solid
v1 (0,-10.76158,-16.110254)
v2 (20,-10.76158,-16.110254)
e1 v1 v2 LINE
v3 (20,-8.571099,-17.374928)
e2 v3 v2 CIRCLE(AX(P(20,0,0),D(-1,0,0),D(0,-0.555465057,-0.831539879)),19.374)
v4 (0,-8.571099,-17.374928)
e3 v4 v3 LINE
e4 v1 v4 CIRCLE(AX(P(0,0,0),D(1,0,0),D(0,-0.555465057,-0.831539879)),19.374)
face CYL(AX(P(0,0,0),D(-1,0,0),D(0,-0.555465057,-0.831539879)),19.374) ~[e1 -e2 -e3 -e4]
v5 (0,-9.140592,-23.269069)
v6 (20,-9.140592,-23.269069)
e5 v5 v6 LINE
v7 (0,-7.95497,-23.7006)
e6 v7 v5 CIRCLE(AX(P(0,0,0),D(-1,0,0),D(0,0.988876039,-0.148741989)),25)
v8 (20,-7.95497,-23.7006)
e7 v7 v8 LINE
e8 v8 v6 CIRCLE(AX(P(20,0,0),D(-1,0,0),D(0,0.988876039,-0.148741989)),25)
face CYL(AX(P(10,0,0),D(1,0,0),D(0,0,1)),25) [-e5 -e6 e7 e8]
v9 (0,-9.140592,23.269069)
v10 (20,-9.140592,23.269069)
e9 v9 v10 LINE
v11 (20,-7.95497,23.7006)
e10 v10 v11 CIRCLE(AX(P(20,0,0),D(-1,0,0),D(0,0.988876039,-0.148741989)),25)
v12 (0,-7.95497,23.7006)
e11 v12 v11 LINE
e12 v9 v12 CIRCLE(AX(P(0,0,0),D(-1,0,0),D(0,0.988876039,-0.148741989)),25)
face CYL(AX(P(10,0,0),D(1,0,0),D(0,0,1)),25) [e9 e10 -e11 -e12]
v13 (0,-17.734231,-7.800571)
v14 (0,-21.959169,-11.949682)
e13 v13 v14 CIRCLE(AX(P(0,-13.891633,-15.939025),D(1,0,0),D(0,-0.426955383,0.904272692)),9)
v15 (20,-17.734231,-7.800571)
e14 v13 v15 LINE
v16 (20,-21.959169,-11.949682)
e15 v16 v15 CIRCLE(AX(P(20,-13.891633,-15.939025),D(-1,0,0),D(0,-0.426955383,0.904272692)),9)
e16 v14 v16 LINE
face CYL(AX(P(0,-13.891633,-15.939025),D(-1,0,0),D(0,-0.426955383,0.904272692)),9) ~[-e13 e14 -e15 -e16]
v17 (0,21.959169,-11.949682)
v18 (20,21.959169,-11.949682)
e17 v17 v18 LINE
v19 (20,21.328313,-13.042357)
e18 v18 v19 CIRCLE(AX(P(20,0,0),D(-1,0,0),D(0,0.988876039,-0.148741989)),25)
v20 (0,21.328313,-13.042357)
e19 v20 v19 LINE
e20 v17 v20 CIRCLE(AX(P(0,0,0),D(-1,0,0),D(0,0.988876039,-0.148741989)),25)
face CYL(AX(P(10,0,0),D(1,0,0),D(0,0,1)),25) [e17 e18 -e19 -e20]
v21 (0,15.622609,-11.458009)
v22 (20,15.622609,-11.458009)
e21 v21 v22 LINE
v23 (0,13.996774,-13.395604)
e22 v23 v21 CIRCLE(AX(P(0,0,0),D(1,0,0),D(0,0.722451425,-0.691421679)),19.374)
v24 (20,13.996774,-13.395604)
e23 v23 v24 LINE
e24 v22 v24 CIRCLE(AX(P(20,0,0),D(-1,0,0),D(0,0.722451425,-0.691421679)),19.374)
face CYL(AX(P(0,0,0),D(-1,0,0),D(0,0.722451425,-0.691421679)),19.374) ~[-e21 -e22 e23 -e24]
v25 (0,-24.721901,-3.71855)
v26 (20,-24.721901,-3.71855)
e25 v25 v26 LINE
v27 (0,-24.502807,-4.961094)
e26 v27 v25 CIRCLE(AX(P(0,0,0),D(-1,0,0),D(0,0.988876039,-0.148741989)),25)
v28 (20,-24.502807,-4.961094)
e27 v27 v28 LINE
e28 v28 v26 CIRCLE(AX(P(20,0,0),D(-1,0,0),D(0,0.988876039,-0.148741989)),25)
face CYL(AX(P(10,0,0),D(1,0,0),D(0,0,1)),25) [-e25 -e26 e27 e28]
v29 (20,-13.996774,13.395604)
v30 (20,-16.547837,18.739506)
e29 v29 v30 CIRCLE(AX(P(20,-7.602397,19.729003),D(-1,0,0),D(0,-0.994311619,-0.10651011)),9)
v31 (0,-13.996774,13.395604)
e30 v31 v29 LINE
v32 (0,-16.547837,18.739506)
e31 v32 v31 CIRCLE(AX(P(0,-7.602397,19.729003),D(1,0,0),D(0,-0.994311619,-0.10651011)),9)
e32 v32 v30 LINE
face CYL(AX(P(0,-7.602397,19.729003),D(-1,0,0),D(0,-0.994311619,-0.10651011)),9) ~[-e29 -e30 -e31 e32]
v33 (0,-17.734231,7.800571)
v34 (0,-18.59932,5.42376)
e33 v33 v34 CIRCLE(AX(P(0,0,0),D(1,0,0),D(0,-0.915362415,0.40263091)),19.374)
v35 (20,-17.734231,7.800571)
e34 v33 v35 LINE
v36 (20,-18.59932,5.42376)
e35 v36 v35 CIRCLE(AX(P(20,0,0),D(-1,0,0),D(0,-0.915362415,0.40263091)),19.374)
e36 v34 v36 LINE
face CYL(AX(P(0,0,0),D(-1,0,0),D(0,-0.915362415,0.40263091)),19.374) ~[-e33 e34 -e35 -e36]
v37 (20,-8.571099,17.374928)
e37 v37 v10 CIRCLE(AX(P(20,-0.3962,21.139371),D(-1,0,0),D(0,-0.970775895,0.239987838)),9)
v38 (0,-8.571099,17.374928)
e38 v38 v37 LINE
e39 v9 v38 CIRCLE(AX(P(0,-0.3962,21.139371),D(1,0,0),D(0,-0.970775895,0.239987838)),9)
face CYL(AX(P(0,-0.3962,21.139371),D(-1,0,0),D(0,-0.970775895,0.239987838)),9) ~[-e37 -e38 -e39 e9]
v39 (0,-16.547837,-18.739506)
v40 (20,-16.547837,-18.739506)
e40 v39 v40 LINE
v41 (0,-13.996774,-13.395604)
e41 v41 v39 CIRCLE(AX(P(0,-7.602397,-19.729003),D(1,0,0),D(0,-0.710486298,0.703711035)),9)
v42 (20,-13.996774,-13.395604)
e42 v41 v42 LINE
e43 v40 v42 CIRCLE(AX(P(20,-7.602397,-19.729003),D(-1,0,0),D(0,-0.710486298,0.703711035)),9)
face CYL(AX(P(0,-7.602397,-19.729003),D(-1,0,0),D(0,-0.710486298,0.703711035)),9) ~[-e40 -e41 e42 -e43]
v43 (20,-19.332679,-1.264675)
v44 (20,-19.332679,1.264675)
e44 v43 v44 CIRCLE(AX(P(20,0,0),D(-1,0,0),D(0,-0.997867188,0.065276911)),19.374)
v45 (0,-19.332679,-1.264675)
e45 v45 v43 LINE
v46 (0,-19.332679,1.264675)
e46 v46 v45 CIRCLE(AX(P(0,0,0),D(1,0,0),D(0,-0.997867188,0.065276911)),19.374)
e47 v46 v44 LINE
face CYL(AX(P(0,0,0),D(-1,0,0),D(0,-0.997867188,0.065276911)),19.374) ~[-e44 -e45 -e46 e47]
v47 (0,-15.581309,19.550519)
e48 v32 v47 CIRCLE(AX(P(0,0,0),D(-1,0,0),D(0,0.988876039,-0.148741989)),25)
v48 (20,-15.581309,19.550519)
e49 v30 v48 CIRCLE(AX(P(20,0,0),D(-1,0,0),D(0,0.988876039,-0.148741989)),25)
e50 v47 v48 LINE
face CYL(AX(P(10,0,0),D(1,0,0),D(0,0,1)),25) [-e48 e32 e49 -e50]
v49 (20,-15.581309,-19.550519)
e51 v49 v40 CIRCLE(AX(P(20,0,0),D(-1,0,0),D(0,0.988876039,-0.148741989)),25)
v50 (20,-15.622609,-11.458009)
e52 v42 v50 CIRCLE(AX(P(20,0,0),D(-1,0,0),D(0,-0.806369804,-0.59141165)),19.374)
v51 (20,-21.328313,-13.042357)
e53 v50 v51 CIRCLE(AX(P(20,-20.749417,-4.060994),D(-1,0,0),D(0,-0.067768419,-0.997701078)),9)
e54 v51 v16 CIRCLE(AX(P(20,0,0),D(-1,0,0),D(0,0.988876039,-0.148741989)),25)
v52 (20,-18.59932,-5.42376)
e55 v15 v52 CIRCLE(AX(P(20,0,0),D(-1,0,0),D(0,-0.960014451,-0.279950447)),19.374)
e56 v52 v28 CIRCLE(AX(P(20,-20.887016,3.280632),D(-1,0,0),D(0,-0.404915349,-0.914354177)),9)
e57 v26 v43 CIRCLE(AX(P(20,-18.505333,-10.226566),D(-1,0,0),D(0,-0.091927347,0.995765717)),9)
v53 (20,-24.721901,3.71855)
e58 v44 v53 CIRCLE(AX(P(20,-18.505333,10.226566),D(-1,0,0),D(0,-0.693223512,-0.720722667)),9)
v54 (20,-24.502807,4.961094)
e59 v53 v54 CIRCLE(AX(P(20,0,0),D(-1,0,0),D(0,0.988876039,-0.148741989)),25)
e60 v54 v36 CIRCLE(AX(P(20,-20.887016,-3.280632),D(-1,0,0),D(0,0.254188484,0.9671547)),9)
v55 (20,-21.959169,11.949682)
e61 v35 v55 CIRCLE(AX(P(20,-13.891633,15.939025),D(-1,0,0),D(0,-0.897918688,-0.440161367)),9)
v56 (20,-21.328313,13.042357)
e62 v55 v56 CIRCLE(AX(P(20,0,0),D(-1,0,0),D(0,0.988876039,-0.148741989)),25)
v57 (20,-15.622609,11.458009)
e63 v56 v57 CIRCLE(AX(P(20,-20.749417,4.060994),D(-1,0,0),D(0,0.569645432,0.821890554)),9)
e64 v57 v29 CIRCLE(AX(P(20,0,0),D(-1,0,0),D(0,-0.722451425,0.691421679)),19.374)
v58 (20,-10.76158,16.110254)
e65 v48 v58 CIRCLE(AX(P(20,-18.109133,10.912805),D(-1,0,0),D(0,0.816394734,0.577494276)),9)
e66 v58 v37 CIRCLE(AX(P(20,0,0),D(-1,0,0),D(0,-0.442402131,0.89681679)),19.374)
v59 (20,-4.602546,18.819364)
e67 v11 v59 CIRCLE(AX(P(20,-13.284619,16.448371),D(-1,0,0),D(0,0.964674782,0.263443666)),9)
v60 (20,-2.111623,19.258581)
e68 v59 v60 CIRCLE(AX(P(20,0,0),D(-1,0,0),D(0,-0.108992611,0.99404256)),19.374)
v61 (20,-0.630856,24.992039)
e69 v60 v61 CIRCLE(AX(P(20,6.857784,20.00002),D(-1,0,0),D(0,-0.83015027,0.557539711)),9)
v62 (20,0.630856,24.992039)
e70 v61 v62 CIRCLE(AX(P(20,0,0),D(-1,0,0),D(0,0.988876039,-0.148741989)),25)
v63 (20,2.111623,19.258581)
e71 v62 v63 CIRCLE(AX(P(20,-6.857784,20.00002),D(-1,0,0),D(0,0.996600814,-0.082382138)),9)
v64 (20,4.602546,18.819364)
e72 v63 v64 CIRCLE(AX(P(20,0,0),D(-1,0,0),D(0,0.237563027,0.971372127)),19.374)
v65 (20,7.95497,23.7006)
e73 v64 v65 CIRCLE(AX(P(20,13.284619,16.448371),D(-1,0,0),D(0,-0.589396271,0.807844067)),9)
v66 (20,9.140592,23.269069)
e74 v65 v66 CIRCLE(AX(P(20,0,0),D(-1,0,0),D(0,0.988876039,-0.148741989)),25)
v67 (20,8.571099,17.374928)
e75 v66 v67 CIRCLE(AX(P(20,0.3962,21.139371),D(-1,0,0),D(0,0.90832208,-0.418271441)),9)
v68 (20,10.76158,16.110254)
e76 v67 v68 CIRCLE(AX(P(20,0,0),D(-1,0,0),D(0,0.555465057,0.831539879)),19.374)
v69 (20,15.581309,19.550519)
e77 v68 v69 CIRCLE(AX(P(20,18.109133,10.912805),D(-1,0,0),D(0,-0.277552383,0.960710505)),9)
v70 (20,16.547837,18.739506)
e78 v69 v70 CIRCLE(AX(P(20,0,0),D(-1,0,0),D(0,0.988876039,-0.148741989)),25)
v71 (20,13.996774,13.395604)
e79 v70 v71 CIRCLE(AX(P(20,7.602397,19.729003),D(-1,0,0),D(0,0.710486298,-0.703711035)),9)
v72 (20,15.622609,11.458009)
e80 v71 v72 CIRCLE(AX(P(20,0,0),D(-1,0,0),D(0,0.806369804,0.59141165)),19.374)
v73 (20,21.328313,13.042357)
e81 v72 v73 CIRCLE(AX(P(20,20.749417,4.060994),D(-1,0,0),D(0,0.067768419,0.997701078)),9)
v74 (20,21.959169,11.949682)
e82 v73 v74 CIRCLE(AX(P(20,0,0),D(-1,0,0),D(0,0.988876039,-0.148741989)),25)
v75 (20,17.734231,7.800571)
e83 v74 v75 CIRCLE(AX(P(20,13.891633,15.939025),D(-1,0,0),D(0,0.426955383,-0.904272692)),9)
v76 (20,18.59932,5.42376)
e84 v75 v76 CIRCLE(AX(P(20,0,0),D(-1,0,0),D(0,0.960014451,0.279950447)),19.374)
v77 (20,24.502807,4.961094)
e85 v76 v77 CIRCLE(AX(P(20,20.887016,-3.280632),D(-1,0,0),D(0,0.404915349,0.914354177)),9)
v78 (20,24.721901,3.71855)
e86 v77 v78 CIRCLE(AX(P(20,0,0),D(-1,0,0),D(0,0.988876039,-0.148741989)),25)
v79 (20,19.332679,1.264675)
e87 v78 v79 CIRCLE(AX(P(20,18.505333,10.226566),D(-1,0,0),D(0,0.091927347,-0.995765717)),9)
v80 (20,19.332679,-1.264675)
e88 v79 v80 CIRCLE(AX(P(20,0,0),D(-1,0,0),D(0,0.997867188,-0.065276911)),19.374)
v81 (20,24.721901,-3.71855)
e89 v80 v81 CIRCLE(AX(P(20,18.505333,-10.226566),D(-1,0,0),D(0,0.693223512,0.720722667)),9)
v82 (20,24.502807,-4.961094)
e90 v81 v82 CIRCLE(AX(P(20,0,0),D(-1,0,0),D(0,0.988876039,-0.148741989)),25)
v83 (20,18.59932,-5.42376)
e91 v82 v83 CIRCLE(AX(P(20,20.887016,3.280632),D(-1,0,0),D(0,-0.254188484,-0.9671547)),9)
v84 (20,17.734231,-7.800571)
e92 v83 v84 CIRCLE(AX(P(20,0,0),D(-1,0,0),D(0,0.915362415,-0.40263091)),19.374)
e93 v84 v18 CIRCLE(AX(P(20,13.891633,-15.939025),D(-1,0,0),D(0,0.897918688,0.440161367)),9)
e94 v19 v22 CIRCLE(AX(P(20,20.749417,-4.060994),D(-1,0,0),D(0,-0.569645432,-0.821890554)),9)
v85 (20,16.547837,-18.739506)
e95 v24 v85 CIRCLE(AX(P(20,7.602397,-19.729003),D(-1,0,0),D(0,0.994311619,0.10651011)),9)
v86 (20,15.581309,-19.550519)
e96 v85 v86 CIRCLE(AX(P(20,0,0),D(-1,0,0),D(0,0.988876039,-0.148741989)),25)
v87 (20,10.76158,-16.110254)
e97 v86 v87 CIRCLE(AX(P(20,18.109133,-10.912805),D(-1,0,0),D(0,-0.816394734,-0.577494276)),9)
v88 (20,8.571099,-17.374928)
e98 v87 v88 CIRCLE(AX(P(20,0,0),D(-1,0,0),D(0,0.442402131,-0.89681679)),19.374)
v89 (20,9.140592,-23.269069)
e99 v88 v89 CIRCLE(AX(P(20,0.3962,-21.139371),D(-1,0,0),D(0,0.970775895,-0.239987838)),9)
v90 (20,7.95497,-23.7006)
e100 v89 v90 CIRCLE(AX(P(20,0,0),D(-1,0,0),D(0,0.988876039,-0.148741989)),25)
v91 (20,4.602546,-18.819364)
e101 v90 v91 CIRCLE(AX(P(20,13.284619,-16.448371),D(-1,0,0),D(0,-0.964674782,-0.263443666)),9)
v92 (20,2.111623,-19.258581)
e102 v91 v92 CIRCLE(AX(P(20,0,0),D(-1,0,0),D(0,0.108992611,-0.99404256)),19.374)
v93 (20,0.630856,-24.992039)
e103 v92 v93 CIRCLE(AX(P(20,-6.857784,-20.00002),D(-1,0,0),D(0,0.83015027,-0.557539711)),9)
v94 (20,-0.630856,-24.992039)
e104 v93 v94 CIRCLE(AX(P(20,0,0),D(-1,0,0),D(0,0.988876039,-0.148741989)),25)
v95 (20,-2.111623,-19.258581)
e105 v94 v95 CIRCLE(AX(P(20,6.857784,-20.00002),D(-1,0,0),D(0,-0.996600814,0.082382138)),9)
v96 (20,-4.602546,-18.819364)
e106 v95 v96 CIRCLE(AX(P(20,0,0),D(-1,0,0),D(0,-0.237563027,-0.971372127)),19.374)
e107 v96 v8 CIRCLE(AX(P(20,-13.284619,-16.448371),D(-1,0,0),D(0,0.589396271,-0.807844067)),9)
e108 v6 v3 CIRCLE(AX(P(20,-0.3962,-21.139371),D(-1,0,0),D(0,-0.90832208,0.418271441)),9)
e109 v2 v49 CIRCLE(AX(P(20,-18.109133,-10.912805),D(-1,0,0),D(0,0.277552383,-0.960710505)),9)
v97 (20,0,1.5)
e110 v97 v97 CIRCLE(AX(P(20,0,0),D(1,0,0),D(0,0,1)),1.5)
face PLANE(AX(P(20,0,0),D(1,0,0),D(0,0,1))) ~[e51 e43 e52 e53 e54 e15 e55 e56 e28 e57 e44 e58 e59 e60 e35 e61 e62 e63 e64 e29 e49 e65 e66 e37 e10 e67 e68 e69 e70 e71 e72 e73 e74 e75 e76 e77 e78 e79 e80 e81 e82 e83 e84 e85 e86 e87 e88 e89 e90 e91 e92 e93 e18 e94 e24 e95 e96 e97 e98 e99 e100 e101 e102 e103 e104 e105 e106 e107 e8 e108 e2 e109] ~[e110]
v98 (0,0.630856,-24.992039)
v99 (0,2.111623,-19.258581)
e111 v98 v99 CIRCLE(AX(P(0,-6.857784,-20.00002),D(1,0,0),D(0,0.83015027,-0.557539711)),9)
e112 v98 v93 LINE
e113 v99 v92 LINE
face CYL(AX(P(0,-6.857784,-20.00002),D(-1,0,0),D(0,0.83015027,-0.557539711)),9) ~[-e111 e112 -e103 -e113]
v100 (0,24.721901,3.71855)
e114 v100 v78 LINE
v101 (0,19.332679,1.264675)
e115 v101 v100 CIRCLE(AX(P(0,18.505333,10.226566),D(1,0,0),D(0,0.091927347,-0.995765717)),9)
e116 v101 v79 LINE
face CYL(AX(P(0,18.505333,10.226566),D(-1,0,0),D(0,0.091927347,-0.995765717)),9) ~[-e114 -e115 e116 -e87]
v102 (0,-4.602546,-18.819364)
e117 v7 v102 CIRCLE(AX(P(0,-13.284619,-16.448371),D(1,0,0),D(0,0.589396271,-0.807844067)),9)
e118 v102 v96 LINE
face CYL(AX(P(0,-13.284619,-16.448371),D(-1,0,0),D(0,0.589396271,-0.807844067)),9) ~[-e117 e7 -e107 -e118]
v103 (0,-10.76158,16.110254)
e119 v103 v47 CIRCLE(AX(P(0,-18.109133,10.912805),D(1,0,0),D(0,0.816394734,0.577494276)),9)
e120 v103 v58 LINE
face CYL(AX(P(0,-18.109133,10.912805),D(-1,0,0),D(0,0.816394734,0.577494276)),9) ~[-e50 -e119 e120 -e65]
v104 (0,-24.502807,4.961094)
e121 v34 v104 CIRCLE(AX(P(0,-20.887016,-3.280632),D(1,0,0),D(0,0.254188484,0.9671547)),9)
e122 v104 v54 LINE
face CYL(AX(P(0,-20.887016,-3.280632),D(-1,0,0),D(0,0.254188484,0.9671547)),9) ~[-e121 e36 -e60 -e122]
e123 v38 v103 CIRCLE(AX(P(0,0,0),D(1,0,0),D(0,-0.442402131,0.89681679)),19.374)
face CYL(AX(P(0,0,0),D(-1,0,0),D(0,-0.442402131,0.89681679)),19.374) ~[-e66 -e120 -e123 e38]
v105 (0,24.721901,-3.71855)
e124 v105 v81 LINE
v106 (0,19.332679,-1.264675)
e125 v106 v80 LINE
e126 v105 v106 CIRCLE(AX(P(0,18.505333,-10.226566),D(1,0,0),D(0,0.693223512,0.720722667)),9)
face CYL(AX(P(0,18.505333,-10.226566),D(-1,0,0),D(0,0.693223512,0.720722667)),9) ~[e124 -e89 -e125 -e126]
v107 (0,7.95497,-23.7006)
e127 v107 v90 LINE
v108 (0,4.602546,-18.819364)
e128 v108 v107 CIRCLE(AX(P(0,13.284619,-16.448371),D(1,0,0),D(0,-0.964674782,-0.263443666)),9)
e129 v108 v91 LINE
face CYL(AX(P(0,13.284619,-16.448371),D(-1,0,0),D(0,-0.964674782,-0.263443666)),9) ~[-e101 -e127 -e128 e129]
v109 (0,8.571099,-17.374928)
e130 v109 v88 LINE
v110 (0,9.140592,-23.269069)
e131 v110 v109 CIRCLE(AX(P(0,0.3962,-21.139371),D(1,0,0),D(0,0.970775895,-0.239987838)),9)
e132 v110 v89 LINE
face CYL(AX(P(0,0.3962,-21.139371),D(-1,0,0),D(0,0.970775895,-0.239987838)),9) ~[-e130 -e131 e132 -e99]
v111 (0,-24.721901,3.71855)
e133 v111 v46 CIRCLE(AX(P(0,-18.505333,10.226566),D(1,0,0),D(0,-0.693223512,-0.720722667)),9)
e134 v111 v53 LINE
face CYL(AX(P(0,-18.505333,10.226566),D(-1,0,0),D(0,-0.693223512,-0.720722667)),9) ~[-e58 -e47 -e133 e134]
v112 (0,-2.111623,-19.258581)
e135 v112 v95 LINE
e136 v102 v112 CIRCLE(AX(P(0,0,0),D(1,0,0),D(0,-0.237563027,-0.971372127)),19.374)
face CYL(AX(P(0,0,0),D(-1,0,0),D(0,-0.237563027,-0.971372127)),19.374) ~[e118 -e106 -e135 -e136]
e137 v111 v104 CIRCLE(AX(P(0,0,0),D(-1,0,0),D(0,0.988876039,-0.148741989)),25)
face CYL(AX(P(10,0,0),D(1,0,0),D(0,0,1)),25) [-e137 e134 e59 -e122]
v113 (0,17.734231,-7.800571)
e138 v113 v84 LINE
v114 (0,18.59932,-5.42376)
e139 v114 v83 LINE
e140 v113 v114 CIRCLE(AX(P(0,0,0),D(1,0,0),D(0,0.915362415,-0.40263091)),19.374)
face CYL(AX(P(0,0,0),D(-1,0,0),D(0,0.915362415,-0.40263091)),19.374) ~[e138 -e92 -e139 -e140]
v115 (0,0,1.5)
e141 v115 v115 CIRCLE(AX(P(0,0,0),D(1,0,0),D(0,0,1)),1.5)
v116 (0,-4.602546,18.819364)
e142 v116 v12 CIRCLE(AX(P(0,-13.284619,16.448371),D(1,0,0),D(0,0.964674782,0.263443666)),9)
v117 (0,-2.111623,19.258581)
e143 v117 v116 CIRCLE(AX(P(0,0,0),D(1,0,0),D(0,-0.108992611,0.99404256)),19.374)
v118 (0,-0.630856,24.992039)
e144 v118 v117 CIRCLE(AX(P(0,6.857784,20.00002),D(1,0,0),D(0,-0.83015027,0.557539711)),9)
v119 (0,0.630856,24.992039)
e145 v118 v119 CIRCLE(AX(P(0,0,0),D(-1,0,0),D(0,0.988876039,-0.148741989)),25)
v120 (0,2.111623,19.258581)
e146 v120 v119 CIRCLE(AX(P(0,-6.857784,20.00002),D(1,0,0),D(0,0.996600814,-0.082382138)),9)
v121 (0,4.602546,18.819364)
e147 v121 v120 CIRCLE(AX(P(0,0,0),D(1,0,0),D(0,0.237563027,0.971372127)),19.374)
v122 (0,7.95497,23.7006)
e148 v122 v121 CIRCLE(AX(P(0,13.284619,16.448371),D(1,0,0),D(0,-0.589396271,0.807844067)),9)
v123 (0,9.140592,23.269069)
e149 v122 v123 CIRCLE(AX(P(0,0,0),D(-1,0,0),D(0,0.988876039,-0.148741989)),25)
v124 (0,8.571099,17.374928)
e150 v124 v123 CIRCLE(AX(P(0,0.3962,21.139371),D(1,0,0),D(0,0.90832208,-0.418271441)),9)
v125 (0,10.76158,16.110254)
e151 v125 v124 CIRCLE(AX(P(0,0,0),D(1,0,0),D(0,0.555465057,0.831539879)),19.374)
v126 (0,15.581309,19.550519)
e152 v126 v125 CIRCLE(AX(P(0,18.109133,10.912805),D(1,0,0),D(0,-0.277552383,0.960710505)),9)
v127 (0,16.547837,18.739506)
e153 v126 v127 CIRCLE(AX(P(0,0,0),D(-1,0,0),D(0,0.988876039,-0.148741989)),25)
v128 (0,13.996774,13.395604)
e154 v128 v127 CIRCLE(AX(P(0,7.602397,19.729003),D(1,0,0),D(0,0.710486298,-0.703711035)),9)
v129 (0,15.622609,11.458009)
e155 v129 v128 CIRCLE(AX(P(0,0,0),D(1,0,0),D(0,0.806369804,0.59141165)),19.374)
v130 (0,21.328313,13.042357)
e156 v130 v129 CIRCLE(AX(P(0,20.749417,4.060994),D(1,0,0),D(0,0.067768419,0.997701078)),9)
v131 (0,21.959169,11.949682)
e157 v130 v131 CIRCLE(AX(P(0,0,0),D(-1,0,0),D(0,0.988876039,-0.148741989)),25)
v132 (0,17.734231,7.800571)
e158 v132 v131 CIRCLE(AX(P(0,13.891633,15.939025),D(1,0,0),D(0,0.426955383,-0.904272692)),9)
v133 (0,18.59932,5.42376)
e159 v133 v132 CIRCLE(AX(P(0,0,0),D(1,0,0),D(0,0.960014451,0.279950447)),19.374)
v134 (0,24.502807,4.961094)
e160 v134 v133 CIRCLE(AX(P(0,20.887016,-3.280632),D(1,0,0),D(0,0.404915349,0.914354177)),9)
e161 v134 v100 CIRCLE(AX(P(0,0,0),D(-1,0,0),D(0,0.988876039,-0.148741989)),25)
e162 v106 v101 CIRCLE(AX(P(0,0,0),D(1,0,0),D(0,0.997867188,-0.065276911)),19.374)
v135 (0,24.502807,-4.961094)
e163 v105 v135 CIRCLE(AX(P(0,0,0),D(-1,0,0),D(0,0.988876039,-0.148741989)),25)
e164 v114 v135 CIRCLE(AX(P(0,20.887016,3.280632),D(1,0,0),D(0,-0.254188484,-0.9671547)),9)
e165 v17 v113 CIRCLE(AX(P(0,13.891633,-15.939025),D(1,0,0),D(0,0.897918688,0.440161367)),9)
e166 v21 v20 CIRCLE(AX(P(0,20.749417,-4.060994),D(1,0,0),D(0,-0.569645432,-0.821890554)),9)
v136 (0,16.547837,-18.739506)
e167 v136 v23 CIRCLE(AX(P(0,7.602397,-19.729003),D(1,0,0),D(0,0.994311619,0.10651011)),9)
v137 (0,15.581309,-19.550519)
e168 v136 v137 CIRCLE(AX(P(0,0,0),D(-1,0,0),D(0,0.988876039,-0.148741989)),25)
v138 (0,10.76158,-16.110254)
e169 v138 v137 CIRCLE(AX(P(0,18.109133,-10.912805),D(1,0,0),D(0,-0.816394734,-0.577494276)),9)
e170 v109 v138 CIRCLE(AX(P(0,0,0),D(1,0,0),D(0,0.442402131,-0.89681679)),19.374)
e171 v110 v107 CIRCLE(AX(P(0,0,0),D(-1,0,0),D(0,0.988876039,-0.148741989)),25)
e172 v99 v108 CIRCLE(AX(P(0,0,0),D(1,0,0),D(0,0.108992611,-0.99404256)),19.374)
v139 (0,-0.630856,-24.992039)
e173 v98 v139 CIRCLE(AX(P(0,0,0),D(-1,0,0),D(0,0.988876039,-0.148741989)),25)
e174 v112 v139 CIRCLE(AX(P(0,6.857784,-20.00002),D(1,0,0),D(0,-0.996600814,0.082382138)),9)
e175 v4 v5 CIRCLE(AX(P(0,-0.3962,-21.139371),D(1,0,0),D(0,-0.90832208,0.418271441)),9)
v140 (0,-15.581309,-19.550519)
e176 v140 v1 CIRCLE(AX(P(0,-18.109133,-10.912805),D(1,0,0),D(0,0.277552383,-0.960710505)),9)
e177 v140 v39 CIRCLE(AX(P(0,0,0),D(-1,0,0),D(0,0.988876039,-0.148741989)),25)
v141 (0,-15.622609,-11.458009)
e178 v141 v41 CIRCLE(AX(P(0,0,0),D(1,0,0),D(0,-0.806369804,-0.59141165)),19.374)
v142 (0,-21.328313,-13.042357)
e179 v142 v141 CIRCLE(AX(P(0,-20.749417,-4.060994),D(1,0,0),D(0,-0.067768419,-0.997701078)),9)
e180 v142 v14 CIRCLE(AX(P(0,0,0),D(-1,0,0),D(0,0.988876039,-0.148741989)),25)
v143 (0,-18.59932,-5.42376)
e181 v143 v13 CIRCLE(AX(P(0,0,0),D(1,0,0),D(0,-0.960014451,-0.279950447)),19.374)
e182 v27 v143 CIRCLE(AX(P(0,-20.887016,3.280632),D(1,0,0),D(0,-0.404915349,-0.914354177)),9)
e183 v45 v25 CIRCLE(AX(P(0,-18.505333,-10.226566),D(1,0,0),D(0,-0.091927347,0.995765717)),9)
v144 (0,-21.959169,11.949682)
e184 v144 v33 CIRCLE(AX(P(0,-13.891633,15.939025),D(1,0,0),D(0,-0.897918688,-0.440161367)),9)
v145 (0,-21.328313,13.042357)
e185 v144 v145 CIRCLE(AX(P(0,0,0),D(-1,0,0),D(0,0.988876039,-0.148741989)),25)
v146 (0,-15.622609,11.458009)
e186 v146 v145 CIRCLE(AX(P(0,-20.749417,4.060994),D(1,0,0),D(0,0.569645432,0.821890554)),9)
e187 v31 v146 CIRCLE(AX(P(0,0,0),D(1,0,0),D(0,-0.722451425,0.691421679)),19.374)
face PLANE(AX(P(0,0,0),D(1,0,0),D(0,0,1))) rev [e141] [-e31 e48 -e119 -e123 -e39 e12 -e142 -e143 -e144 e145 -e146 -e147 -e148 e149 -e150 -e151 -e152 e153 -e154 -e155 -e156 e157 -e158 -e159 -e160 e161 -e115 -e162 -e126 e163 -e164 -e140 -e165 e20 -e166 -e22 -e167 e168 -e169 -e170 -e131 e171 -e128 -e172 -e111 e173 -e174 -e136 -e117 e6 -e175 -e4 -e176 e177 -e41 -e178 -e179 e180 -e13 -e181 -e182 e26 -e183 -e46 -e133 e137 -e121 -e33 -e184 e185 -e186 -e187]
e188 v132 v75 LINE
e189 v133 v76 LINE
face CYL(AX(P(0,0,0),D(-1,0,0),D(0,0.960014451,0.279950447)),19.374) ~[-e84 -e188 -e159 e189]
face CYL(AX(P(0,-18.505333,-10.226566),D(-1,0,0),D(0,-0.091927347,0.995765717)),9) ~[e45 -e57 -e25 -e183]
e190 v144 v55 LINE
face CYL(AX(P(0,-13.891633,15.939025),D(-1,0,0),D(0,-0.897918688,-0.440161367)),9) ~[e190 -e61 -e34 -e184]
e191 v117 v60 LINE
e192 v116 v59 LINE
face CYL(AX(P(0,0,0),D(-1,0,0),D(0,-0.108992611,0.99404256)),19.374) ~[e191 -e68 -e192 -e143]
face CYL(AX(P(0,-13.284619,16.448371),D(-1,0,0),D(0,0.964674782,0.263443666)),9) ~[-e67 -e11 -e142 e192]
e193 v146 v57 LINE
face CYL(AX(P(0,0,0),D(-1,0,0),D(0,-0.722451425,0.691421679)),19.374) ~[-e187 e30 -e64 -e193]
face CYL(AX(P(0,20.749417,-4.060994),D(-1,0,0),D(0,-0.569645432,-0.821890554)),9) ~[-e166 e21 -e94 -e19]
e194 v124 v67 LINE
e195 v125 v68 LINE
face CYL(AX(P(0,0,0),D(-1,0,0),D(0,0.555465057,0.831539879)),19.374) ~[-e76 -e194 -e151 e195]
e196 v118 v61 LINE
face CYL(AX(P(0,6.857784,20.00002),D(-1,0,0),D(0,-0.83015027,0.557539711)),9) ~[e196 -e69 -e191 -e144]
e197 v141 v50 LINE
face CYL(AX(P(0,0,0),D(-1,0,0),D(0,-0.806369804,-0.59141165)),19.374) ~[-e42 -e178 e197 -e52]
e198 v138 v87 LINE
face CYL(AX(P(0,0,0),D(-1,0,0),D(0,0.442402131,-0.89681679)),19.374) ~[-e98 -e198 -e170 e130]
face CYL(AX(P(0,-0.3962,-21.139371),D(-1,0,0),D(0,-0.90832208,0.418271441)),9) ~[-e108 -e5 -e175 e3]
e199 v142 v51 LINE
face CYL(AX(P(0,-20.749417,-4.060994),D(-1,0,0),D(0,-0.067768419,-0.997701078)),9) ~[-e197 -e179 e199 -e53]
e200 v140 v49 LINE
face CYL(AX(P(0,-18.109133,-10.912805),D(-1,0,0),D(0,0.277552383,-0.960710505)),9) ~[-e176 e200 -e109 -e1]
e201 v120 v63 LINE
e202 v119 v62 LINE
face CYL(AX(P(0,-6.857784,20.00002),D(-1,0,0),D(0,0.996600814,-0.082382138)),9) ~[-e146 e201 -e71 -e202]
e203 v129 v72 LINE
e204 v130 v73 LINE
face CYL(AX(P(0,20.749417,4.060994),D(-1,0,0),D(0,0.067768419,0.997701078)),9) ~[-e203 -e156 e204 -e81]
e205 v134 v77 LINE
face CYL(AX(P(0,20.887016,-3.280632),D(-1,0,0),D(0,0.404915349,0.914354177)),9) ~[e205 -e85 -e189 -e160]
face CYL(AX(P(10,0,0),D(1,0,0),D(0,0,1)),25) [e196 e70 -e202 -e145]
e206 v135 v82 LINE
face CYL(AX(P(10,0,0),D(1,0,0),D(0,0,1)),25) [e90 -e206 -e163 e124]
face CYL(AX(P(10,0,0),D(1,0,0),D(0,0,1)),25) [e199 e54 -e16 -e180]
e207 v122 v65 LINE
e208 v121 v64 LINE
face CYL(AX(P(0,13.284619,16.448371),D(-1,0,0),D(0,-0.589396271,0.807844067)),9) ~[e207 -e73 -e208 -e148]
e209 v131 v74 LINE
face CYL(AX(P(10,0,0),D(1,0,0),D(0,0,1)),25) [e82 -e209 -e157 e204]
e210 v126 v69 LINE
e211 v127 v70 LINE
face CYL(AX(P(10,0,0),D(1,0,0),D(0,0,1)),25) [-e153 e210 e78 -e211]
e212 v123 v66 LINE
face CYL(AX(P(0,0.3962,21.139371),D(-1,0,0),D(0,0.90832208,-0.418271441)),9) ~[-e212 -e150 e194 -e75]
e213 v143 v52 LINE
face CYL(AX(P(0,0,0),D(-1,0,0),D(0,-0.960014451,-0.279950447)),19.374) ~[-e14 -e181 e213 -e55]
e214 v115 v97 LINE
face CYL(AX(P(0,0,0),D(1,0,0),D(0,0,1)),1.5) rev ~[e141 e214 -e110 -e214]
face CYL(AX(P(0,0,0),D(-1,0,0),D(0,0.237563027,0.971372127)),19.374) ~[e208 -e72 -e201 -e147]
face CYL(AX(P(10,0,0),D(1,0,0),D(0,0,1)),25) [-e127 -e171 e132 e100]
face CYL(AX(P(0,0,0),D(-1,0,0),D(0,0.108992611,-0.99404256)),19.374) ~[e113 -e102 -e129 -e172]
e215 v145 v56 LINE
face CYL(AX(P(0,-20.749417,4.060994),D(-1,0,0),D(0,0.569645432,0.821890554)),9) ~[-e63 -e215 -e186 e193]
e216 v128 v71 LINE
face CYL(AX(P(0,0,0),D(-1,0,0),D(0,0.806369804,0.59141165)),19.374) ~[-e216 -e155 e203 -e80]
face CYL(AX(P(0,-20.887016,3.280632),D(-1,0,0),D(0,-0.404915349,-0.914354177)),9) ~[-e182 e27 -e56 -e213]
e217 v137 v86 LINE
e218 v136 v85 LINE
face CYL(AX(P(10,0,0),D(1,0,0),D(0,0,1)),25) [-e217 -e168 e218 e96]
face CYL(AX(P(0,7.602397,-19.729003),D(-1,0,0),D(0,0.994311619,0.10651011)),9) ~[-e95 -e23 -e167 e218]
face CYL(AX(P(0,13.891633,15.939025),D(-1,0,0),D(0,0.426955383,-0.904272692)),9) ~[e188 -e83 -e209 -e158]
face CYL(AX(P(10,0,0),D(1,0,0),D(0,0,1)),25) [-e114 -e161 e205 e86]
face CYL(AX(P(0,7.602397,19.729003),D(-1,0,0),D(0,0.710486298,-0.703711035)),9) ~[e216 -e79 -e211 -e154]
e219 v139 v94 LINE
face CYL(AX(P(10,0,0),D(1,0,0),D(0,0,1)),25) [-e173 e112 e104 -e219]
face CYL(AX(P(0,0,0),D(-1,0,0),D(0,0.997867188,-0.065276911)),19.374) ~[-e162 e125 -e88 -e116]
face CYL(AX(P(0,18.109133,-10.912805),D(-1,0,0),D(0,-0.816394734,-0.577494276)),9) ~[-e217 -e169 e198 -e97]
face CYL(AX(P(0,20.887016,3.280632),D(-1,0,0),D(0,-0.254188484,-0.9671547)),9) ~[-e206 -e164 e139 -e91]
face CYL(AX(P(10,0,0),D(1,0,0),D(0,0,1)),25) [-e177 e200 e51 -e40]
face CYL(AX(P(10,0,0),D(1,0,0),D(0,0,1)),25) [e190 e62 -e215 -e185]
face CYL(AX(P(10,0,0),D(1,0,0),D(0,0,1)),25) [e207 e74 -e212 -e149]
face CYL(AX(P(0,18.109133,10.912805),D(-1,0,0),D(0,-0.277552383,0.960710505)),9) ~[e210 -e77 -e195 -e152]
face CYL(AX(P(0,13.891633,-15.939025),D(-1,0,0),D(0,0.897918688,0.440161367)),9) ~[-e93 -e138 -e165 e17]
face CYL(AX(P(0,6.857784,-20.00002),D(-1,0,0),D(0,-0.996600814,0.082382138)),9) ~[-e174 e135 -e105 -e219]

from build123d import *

# Parameters (mm, degrees)
BASPROSKE_W     = 20
BASPROSKE_H     = 25
TOOTHCUT_DEPTH  = 41.620192023
TEETHCUTS_COUNT = 18
TEETHCUTS_ANGLE = 340
BORSKE_R        = 1.5
BORE_DEPTH      = 50.0000508


with BuildPart() as part:
    # BasProSke → Base-Revolve (revolve)
    with BuildSketch(Plane(origin=(0, 0, 0), x_dir=(1, 0, 0), z_dir=(0, 1, 0)), mode=Mode.PRIVATE) as base_revolve_sk:
        with Locations((10, 12.5)):
            Rectangle(BASPROSKE_W, BASPROSKE_H)
    revolve(base_revolve_sk.sketch.rotate(Axis((-10, 0, 0), (1, 0, 0)), 180), axis=Axis((-10, 0, 0), (1, 0, 0)))

    # TooCutSke → ToothCut (cut, through all)
    with BuildSketch(Plane(origin=(0, 0, 0), x_dir=(0, 0, -1), z_dir=(1, 0, 0))):
        with BuildLine():
            ThreePointArc((1.264674858, 19.332678901), (0, 19.374), (-1.264674858, 19.332678901))
            ThreePointArc((-1.264674858, 19.332678901), (-2.042144439, 22.249025962), (-3.740062307, 24.744344386))
            ThreePointArc((-3.740062307, 24.744344386), (0, 25.0254), (3.740062307, 24.744344386))
            ThreePointArc((3.740062307, 24.744344386), (2.042144439, 22.249025962), (1.264674858, 19.332678901))
        make_face()
    toothcut = extrude(amount=TOOTHCUT_DEPTH, mode=Mode.SUBTRACT)

    # TeethCuts: ToothCut ×18 about axis
    teethcuts_axis = Axis((-10, 0, 0), (1, 0, 0))
    for i in range(1, TEETHCUTS_COUNT):
        add(toothcut.rotate(teethcuts_axis, i * TEETHCUTS_ANGLE / (TEETHCUTS_COUNT - 1)), mode=Mode.SUBTRACT)

    # BorSke → Bore (cut, symmetric)
    with BuildSketch(Plane(origin=(0, 0, 0), x_dir=(0, 0, -1), z_dir=(1, 0, 0))):
        with Locations(Location((0, 0, 0), (0, 0, 180))):
            Circle(BORSKE_R)
    extrude(amount=BORE_DEPTH, both=True, mode=Mode.SUBTRACT)


solid = part.part
